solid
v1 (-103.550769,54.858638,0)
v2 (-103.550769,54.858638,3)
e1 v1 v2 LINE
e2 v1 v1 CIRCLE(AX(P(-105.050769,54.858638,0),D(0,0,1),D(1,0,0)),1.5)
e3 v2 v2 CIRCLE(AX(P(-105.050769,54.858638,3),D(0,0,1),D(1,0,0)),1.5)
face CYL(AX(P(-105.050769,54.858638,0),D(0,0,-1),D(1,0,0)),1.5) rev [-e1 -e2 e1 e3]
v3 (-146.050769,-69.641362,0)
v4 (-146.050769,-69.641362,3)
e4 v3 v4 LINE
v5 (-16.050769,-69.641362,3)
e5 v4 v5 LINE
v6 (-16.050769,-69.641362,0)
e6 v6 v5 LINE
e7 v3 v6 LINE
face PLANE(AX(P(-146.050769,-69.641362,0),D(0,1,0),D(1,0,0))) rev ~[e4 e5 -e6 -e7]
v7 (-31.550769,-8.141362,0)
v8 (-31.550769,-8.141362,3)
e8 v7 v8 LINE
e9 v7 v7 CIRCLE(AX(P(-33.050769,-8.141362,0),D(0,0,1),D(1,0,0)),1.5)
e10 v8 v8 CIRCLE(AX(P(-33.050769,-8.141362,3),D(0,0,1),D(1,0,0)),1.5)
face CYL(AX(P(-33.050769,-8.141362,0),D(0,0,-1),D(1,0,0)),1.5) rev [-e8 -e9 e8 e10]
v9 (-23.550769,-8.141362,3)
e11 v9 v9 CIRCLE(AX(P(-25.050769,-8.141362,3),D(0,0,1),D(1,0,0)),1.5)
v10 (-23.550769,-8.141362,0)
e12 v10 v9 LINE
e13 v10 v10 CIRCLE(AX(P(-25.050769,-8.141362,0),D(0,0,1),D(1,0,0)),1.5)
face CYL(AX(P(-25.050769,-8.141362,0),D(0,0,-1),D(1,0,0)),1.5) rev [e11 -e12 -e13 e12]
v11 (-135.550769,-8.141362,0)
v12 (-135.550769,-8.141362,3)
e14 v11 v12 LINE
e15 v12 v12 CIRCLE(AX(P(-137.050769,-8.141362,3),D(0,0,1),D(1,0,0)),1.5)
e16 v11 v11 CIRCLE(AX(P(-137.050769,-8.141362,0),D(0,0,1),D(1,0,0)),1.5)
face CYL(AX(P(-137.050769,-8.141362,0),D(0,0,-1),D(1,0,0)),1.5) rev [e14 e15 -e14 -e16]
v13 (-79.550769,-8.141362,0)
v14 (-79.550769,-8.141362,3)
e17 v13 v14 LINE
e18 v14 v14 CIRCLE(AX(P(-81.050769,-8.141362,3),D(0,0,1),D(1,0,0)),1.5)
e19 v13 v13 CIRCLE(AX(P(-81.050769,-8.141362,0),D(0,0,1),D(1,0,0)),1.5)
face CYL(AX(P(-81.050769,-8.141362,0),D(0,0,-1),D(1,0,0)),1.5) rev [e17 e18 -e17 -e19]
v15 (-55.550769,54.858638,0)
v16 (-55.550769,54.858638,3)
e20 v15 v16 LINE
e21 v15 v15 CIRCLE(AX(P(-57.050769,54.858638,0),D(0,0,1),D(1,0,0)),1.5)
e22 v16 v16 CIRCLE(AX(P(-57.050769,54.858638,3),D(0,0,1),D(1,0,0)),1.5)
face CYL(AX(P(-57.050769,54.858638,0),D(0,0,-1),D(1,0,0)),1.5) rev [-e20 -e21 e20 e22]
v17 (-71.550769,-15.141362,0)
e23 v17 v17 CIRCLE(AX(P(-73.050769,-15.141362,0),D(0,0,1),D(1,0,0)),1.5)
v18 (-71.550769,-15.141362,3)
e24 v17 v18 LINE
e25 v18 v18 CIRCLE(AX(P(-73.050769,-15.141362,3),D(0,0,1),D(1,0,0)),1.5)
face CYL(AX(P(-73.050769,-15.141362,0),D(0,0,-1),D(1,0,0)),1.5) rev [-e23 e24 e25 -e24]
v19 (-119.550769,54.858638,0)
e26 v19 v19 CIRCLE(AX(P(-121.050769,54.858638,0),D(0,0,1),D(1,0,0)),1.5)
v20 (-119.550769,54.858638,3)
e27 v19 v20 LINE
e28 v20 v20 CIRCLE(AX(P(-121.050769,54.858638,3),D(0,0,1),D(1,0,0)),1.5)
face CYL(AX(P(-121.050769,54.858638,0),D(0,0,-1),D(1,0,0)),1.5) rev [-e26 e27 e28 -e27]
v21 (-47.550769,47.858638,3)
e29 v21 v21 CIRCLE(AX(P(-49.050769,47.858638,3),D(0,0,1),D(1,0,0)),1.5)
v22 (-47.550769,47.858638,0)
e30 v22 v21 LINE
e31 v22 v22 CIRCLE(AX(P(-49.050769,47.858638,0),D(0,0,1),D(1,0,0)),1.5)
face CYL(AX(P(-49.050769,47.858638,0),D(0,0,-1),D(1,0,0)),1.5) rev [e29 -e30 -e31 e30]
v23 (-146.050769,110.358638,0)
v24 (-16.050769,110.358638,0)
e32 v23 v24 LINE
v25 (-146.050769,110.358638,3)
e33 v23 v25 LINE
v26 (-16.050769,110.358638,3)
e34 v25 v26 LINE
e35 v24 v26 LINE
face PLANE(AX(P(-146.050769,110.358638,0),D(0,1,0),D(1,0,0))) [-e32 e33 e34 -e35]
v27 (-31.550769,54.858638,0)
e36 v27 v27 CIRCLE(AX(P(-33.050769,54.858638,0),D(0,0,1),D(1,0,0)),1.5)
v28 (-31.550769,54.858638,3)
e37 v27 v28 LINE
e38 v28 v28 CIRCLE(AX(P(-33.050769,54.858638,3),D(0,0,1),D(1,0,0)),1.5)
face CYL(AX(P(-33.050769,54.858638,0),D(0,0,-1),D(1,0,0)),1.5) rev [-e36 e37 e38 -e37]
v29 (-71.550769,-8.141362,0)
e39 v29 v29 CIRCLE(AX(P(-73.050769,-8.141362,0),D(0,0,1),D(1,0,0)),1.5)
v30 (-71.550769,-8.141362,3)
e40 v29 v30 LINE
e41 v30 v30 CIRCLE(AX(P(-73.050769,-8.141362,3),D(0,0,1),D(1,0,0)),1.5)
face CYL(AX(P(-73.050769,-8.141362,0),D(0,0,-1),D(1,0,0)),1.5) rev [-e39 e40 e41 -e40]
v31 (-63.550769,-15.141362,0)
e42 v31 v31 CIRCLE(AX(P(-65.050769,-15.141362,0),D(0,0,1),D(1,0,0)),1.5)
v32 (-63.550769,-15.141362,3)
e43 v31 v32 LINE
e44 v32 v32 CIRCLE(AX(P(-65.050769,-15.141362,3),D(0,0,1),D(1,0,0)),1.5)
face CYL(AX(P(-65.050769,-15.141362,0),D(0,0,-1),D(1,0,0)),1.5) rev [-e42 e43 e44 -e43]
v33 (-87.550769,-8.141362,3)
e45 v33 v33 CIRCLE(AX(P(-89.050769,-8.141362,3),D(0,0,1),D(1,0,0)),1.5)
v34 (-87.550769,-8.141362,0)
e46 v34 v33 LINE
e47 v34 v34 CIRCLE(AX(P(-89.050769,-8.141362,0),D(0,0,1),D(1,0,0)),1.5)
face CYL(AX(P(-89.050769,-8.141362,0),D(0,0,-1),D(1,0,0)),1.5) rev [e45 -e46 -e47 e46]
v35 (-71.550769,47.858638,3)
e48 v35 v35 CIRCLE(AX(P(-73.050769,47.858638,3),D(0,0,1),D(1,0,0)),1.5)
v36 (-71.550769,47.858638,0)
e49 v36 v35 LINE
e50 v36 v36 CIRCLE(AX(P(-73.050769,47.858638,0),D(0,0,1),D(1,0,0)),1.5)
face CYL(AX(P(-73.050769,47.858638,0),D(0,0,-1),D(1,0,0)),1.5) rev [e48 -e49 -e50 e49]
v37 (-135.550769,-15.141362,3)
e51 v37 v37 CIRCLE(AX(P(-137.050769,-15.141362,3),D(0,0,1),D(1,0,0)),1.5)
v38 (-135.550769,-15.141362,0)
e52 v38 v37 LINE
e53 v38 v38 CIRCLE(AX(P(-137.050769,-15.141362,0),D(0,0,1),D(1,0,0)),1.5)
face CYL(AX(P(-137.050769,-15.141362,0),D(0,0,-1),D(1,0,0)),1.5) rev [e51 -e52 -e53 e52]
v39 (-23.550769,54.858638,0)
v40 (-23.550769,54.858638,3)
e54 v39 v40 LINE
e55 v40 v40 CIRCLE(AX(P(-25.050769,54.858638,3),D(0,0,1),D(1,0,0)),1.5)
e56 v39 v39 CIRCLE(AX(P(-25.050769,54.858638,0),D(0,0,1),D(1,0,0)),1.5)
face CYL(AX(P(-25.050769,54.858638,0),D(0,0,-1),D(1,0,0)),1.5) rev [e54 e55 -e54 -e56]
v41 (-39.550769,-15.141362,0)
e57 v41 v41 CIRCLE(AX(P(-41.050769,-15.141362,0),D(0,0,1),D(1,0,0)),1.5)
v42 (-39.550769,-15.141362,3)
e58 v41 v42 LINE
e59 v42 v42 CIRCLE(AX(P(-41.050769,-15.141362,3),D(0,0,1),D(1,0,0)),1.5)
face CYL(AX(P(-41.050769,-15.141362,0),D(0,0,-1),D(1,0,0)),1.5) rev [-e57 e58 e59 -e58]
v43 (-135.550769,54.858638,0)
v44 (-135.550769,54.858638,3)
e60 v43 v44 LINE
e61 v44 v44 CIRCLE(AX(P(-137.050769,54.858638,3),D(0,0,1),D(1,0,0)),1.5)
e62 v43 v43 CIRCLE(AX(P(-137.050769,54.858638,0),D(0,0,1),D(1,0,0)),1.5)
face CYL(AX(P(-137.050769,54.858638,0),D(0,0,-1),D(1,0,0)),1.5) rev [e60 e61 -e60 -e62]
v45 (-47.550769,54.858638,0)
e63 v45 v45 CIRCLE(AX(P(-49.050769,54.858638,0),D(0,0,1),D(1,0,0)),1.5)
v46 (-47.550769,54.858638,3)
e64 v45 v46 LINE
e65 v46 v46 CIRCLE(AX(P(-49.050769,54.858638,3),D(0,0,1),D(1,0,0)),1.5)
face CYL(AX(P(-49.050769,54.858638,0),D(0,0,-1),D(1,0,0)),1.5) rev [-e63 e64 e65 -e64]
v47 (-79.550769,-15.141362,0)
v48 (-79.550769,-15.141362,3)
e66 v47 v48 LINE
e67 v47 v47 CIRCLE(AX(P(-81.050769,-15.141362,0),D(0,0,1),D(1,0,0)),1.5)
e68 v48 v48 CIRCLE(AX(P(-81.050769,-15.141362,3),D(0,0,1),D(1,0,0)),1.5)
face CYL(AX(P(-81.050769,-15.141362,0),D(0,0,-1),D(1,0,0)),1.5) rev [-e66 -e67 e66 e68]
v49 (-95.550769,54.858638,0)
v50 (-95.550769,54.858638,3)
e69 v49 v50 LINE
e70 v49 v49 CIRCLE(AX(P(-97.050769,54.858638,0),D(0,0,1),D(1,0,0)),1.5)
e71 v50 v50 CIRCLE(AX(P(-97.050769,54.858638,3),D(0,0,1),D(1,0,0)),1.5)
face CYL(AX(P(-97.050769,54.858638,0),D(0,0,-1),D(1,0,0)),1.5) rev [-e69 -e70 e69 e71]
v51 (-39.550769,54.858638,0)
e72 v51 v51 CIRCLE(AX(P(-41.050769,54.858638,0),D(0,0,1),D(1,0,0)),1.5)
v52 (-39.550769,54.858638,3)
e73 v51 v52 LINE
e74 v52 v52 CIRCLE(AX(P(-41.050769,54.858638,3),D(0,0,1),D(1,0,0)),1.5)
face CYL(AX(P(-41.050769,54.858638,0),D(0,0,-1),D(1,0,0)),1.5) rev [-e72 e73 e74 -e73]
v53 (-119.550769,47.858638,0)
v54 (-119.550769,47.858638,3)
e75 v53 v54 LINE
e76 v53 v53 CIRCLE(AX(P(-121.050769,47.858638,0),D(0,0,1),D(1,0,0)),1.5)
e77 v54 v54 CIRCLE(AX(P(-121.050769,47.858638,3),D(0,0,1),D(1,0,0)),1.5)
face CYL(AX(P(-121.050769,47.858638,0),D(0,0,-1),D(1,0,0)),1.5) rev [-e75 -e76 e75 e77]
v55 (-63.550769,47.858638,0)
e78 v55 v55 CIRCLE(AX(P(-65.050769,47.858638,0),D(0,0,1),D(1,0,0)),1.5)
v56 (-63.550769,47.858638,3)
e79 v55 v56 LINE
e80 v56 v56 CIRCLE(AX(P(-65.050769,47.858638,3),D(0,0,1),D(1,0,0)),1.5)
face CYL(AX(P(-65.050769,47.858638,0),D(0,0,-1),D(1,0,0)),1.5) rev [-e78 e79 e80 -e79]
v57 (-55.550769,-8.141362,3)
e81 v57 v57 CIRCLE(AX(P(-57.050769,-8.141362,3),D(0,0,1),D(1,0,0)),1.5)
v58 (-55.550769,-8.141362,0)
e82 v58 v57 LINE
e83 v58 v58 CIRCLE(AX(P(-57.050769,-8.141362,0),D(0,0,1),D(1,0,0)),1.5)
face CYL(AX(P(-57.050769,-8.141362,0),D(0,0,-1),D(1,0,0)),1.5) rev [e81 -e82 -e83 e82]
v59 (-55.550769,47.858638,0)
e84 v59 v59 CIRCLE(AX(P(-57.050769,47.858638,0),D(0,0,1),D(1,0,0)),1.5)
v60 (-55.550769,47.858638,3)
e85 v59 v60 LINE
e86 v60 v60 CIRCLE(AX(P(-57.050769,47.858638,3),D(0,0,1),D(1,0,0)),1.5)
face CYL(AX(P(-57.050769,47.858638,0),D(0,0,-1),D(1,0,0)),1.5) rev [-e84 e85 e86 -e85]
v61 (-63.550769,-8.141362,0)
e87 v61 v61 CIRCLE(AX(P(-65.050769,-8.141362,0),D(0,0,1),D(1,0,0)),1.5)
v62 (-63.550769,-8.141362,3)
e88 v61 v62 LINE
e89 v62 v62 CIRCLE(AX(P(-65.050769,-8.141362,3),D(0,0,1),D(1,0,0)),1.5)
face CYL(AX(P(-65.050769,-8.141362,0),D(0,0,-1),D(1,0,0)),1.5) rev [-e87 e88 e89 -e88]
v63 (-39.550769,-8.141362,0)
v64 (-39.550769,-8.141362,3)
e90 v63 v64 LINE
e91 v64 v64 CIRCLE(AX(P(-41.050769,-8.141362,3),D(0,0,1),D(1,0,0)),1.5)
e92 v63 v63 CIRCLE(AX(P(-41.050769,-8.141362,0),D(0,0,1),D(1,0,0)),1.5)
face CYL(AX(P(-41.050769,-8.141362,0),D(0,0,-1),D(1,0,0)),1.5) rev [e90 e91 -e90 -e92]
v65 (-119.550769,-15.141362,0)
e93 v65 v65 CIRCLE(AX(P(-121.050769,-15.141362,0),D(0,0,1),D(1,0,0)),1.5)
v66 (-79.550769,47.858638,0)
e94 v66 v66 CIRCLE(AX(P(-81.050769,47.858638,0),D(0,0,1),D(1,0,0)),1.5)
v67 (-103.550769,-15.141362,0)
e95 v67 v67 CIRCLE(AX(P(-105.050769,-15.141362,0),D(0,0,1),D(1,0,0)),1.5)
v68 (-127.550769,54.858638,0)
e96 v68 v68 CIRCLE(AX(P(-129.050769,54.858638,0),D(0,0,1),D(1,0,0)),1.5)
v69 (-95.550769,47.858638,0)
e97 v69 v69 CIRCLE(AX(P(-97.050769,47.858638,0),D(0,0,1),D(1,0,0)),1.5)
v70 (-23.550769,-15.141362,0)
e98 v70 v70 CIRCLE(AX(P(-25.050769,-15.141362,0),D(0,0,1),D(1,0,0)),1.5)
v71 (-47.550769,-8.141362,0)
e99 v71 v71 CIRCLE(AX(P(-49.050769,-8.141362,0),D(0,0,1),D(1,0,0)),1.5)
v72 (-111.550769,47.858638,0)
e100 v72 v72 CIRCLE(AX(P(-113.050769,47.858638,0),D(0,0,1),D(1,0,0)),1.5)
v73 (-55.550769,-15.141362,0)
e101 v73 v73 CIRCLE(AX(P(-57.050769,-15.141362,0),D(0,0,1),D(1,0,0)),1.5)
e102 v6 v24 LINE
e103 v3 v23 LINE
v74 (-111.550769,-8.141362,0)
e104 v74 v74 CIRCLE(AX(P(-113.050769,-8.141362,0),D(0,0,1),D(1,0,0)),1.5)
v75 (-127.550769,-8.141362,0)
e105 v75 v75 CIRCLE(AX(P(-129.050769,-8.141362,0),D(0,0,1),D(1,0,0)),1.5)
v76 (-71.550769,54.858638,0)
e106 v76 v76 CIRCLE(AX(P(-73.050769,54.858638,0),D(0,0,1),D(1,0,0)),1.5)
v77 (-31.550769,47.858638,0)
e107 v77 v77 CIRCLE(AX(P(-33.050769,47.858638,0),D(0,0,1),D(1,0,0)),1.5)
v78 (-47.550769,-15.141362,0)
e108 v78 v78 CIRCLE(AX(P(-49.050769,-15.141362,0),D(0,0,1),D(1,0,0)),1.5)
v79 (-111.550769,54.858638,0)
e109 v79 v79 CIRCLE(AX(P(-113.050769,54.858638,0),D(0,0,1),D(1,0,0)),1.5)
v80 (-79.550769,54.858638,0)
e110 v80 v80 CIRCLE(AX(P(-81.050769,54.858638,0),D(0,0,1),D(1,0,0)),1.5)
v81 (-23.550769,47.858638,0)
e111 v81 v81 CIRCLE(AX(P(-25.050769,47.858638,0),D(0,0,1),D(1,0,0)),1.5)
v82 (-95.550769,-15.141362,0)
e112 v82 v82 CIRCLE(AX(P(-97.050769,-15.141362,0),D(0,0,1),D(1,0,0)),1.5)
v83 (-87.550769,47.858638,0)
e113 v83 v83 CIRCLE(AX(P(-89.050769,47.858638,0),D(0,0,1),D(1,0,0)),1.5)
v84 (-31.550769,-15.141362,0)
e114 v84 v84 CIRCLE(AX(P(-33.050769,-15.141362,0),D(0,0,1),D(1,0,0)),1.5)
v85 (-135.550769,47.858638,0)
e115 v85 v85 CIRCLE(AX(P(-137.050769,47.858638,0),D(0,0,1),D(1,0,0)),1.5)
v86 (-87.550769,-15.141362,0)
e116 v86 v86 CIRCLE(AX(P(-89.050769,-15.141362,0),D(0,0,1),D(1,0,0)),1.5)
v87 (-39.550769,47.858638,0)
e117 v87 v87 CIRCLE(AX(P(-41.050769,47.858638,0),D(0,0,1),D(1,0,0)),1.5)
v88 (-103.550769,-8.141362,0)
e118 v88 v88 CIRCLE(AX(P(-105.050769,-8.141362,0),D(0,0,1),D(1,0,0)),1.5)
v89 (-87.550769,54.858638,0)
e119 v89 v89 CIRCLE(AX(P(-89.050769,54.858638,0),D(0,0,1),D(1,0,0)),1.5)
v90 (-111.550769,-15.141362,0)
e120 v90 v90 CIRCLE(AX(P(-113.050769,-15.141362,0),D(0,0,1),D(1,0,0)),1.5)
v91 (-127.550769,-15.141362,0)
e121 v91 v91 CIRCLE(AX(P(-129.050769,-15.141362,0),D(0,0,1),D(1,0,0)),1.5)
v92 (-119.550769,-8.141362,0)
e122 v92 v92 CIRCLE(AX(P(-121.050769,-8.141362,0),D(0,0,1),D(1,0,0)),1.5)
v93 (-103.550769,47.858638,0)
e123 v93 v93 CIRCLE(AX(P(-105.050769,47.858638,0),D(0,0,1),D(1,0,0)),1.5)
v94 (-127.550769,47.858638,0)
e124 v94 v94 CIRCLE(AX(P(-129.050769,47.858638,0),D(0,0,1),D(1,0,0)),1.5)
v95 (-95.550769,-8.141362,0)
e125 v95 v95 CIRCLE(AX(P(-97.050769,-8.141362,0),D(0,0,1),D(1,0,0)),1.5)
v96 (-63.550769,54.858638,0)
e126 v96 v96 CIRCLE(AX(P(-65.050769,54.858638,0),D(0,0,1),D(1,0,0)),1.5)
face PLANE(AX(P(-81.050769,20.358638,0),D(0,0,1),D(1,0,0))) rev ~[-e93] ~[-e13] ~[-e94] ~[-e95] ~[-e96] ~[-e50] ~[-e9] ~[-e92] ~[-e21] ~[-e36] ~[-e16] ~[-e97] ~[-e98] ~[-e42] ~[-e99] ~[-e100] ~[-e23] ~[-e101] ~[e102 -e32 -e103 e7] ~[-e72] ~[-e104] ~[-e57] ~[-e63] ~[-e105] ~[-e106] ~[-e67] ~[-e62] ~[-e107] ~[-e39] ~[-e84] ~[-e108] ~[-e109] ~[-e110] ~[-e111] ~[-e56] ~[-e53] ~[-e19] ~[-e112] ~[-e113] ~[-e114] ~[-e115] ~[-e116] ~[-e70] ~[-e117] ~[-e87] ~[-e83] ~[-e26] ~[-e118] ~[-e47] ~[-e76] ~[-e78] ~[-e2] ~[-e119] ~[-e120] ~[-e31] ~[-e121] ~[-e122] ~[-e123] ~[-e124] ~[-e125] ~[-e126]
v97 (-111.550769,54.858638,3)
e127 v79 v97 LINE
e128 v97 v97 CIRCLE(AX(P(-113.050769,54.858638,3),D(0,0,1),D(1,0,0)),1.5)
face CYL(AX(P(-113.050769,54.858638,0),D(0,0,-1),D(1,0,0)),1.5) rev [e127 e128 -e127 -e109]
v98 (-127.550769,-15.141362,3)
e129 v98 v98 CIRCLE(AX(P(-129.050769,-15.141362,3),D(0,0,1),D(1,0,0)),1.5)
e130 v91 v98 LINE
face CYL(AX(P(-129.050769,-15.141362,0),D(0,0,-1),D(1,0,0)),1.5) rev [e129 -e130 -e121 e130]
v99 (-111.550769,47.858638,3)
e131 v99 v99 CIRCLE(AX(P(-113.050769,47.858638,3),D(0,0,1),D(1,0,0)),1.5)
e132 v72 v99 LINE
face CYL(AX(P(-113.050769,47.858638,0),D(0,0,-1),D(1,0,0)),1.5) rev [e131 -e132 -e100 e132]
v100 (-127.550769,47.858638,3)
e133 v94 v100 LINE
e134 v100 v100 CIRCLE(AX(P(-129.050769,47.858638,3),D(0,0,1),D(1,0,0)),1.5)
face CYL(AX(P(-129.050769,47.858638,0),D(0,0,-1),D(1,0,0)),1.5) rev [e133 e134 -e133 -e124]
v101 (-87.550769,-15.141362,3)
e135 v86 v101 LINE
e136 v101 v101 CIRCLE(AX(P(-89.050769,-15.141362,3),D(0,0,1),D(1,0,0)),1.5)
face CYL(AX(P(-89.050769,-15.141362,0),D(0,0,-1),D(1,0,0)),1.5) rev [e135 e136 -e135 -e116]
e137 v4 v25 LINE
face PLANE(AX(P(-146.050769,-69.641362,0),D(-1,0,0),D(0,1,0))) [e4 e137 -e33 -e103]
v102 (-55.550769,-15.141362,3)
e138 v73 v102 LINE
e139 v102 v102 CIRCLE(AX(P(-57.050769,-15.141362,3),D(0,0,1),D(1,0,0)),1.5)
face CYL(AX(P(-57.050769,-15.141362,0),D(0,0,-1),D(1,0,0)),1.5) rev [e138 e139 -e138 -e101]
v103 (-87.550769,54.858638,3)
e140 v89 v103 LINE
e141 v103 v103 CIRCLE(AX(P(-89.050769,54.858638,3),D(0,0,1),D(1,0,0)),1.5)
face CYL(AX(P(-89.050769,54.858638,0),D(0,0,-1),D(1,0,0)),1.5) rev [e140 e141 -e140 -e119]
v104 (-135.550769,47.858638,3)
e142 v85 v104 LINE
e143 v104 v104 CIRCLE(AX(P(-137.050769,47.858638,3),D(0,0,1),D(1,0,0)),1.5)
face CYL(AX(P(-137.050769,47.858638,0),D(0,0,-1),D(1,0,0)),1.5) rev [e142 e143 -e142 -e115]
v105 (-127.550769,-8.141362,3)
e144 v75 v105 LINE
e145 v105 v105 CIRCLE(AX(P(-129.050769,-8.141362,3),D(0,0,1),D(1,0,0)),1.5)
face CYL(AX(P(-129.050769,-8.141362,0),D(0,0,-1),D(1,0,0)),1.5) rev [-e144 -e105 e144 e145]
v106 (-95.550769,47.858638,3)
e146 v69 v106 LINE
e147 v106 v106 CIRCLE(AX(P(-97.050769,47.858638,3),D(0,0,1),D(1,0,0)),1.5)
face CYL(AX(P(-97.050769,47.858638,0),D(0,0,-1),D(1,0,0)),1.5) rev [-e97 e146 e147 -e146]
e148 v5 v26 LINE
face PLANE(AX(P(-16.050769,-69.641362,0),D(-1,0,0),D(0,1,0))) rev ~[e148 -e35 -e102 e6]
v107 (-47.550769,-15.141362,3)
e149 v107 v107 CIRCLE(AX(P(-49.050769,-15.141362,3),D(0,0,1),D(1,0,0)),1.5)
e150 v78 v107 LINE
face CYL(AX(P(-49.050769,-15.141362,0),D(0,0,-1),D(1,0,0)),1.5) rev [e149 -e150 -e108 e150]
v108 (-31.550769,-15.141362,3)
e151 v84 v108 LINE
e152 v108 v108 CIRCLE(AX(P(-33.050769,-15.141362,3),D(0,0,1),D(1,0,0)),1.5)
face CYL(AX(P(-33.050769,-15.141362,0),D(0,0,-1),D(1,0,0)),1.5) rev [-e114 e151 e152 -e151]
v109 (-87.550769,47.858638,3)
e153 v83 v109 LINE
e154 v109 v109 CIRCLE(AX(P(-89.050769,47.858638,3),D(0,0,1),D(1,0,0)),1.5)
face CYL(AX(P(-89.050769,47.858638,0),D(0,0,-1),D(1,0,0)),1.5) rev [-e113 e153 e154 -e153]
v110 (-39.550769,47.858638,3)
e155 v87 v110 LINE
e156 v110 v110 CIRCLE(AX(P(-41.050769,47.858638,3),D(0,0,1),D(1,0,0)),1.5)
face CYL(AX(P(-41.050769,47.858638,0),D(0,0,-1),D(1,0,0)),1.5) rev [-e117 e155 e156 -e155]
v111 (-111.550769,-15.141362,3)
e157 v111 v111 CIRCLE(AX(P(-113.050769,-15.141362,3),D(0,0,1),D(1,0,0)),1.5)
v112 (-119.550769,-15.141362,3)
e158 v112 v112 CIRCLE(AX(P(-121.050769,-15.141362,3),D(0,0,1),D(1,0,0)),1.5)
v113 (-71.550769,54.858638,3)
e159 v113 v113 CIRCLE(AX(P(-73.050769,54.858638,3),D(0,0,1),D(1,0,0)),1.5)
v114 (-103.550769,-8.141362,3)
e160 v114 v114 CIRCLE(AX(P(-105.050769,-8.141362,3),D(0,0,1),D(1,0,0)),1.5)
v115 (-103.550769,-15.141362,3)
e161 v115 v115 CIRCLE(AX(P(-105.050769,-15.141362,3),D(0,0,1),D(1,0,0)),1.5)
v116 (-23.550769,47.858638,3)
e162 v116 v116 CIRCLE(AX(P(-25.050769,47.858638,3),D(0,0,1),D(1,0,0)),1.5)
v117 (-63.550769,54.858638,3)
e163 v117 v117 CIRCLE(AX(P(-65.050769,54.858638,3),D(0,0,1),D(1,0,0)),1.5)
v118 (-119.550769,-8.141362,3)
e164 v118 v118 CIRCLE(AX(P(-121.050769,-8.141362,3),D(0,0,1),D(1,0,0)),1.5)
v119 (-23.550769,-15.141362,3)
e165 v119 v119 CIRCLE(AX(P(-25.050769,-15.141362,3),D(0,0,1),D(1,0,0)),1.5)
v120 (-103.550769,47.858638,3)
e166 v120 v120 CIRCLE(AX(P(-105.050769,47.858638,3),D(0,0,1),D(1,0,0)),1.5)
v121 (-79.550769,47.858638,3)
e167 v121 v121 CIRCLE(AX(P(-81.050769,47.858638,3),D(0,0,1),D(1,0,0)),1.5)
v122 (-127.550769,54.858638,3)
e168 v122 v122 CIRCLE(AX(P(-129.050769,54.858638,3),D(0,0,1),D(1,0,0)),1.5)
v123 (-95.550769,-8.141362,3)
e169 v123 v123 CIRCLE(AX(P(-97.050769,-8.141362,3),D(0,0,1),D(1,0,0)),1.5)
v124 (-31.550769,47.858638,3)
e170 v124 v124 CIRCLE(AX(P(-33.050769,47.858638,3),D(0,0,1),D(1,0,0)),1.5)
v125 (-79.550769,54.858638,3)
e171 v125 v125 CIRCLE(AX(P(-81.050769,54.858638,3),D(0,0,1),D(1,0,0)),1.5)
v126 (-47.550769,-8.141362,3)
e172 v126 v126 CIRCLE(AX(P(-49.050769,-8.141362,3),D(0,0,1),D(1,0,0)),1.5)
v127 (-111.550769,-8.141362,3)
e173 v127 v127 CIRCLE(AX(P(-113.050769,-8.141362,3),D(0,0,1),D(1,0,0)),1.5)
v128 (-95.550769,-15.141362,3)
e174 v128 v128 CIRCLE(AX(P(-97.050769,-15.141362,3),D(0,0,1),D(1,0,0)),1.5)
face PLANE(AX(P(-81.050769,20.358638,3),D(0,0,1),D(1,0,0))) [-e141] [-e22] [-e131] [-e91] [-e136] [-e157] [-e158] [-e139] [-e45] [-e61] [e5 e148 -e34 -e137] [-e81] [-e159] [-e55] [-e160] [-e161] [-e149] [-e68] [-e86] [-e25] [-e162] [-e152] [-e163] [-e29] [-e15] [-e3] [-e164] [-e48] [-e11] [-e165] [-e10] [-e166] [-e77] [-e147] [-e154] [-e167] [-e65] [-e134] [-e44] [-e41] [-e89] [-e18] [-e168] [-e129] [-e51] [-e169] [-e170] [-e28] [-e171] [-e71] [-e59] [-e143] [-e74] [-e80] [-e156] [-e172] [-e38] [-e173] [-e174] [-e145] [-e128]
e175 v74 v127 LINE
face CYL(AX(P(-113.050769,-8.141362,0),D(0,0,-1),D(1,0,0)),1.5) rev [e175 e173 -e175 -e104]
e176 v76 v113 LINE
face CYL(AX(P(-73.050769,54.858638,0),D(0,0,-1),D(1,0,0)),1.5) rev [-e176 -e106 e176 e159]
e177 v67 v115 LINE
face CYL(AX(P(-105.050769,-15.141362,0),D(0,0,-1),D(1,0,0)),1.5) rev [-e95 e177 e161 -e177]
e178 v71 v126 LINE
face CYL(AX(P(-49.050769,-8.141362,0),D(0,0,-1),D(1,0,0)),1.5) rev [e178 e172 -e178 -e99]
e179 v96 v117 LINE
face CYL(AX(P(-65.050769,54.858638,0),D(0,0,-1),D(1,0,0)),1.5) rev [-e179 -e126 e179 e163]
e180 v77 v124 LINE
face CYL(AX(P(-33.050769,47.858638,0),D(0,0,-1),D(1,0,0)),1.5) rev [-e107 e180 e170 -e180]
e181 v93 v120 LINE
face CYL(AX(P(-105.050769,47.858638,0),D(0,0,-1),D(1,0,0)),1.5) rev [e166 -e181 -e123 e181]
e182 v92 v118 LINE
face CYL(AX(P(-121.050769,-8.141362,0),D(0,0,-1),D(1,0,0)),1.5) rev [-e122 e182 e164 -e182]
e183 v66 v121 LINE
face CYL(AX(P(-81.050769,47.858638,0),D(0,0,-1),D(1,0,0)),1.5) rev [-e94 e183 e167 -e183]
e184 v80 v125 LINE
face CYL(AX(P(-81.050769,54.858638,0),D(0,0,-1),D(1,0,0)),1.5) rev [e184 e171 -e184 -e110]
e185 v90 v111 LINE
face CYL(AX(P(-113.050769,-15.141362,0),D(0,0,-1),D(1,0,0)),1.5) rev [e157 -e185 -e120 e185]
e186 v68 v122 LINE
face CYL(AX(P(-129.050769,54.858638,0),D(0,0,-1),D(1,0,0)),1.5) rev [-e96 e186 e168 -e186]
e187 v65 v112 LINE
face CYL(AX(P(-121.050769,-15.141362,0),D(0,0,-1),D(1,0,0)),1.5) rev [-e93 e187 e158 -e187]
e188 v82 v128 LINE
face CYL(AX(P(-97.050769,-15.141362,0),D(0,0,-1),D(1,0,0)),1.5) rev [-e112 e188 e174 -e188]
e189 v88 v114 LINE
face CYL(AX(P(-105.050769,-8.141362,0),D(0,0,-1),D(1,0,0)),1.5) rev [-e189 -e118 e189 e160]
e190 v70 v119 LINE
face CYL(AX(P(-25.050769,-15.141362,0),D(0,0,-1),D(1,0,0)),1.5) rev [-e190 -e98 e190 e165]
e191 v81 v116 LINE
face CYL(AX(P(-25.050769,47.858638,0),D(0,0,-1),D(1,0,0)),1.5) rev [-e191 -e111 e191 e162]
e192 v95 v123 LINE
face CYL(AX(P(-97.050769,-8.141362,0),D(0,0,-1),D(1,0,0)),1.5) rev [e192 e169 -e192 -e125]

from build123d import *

# Parameters (mm, degrees)
F0_W     = 130
F0_H     = 180
F0_R     = 1.5
F1_DEPTH = 3


with BuildPart() as f1:
    # F0 (on Top) → F1 (new body)
    with BuildSketch(Plane.XY):
        with Locations((-81.050769, 20.358638)):
            Rectangle(F0_W, F0_H)
        with Locations((-137.050769, -15.141362)):
            Circle(F0_R, mode=Mode.SUBTRACT)
        with Locations((-129.050769, -15.141362)):
            Circle(F0_R, mode=Mode.SUBTRACT)
        with Locations((-121.050769, -15.141362)):
            Circle(F0_R, mode=Mode.SUBTRACT)
        with Locations((-113.050769, -15.141362)):
            Circle(F0_R, mode=Mode.SUBTRACT)
        with Locations((-137.050769, -8.141362)):
            Circle(F0_R, mode=Mode.SUBTRACT)
        with Locations((-129.050769, -8.141362)):
            Circle(F0_R, mode=Mode.SUBTRACT)
        with Locations((-121.050769, -8.141362)):
            Circle(F0_R, mode=Mode.SUBTRACT)
        with Locations((-113.050769, -8.141362)):
            Circle(F0_R, mode=Mode.SUBTRACT)
        with Locations((-105.050769, -15.141362)):
            Circle(F0_R, mode=Mode.SUBTRACT)
        with Locations((-97.050769, -15.141362)):
            Circle(F0_R, mode=Mode.SUBTRACT)
        with Locations((-89.050769, -15.141362)):
            Circle(F0_R, mode=Mode.SUBTRACT)
        with Locations((-81.050769, -15.141362)):
            Circle(F0_R, mode=Mode.SUBTRACT)
        with Locations((-105.050769, -8.141362)):
            Circle(F0_R, mode=Mode.SUBTRACT)
        with Locations((-97.050769, -8.141362)):
            Circle(F0_R, mode=Mode.SUBTRACT)
        with Locations((-89.050769, -8.141362)):
            Circle(F0_R, mode=Mode.SUBTRACT)
        with Locations((-81.050769, -8.141362)):
            Circle(F0_R, mode=Mode.SUBTRACT)
        with Locations((-73.050769, -15.141362)):
            Circle(F0_R, mode=Mode.SUBTRACT)
        with Locations((-65.050769, -15.141362)):
            Circle(F0_R, mode=Mode.SUBTRACT)
        with Locations((-57.050769, -15.141362)):
            Circle(F0_R, mode=Mode.SUBTRACT)
        with Locations((-49.050769, -15.141362)):
            Circle(F0_R, mode=Mode.SUBTRACT)
        with Locations((-41.050769, -15.141362)):
            Circle(F0_R, mode=Mode.SUBTRACT)
        with Locations((-73.050769, -8.141362)):
            Circle(F0_R, mode=Mode.SUBTRACT)
        with Locations((-65.050769, -8.141362)):
            Circle(F0_R, mode=Mode.SUBTRACT)
        with Locations((-57.050769, -8.141362)):
            Circle(F0_R, mode=Mode.SUBTRACT)
        with Locations((-49.050769, -8.141362)):
            Circle(F0_R, mode=Mode.SUBTRACT)
        with Locations((-41.050769, -8.141362)):
            Circle(F0_R, mode=Mode.SUBTRACT)
        with Locations((-33.050769, -15.141362)):
            Circle(F0_R, mode=Mode.SUBTRACT)
        with Locations((-25.050769, -15.141362)):
            Circle(F0_R, mode=Mode.SUBTRACT)
        with Locations((-33.050769, -8.141362)):
            Circle(F0_R, mode=Mode.SUBTRACT)
        with Locations((-25.050769, -8.141362)):
            Circle(F0_R, mode=Mode.SUBTRACT)
        with Locations((-137.050769, 47.858638)):
            Circle(F0_R, mode=Mode.SUBTRACT)
        with Locations((-129.050769, 47.858638)):
            Circle(F0_R, mode=Mode.SUBTRACT)
        with Locations((-121.050769, 47.858638)):
            Circle(F0_R, mode=Mode.SUBTRACT)
        with Locations((-113.050769, 47.858638)):
            Circle(F0_R, mode=Mode.SUBTRACT)
        with Locations((-137.050769, 54.858638)):
            Circle(F0_R, mode=Mode.SUBTRACT)
        with Locations((-129.050769, 54.858638)):
            Circle(F0_R, mode=Mode.SUBTRACT)
        with Locations((-121.050769, 54.858638)):
            Circle(F0_R, mode=Mode.SUBTRACT)
        with Locations((-113.050769, 54.858638)):
            Circle(F0_R, mode=Mode.SUBTRACT)
        with Locations((-105.050769, 47.858638)):
            Circle(F0_R, mode=Mode.SUBTRACT)
        with Locations((-97.050769, 47.858638)):
            Circle(F0_R, mode=Mode.SUBTRACT)
        with Locations((-89.050769, 47.858638)):
            Circle(F0_R, mode=Mode.SUBTRACT)
        with Locations((-81.050769, 47.858638)):
            Circle(F0_R, mode=Mode.SUBTRACT)
        with Locations((-105.050769, 54.858638)):
            Circle(F0_R, mode=Mode.SUBTRACT)
        with Locations((-97.050769, 54.858638)):
            Circle(F0_R, mode=Mode.SUBTRACT)
        with Locations((-89.050769, 54.858638)):
            Circle(F0_R, mode=Mode.SUBTRACT)
        with Locations((-81.050769, 54.858638)):
            Circle(F0_R, mode=Mode.SUBTRACT)
        with Locations((-73.050769, 47.858638)):
            Circle(F0_R, mode=Mode.SUBTRACT)
        with Locations((-65.050769, 47.858638)):
            Circle(F0_R, mode=Mode.SUBTRACT)
        with Locations((-57.050769, 47.858638)):
            Circle(F0_R, mode=Mode.SUBTRACT)
        with Locations((-49.050769, 47.858638)):
            Circle(F0_R, mode=Mode.SUBTRACT)
        with Locations((-41.050769, 47.858638)):
            Circle(F0_R, mode=Mode.SUBTRACT)
        with Locations((-73.050769, 54.858638)):
            Circle(F0_R, mode=Mode.SUBTRACT)
        with Locations((-65.050769, 54.858638)):
            Circle(F0_R, mode=Mode.SUBTRACT)
        with Locations((-57.050769, 54.858638)):
            Circle(F0_R, mode=Mode.SUBTRACT)
        with Locations((-49.050769, 54.858638)):
            Circle(F0_R, mode=Mode.SUBTRACT)
        with Locations((-41.050769, 54.858638)):
            Circle(F0_R, mode=Mode.SUBTRACT)
        with Locations((-33.050769, 47.858638)):
            Circle(F0_R, mode=Mode.SUBTRACT)
        with Locations((-25.050769, 47.858638)):
            Circle(F0_R, mode=Mode.SUBTRACT)
        with Locations((-33.050769, 54.858638)):
            Circle(F0_R, mode=Mode.SUBTRACT)
        with Locations((-25.050769, 54.858638)):
            Circle(F0_R, mode=Mode.SUBTRACT)
    extrude(amount=F1_DEPTH)


solid = f1.part
